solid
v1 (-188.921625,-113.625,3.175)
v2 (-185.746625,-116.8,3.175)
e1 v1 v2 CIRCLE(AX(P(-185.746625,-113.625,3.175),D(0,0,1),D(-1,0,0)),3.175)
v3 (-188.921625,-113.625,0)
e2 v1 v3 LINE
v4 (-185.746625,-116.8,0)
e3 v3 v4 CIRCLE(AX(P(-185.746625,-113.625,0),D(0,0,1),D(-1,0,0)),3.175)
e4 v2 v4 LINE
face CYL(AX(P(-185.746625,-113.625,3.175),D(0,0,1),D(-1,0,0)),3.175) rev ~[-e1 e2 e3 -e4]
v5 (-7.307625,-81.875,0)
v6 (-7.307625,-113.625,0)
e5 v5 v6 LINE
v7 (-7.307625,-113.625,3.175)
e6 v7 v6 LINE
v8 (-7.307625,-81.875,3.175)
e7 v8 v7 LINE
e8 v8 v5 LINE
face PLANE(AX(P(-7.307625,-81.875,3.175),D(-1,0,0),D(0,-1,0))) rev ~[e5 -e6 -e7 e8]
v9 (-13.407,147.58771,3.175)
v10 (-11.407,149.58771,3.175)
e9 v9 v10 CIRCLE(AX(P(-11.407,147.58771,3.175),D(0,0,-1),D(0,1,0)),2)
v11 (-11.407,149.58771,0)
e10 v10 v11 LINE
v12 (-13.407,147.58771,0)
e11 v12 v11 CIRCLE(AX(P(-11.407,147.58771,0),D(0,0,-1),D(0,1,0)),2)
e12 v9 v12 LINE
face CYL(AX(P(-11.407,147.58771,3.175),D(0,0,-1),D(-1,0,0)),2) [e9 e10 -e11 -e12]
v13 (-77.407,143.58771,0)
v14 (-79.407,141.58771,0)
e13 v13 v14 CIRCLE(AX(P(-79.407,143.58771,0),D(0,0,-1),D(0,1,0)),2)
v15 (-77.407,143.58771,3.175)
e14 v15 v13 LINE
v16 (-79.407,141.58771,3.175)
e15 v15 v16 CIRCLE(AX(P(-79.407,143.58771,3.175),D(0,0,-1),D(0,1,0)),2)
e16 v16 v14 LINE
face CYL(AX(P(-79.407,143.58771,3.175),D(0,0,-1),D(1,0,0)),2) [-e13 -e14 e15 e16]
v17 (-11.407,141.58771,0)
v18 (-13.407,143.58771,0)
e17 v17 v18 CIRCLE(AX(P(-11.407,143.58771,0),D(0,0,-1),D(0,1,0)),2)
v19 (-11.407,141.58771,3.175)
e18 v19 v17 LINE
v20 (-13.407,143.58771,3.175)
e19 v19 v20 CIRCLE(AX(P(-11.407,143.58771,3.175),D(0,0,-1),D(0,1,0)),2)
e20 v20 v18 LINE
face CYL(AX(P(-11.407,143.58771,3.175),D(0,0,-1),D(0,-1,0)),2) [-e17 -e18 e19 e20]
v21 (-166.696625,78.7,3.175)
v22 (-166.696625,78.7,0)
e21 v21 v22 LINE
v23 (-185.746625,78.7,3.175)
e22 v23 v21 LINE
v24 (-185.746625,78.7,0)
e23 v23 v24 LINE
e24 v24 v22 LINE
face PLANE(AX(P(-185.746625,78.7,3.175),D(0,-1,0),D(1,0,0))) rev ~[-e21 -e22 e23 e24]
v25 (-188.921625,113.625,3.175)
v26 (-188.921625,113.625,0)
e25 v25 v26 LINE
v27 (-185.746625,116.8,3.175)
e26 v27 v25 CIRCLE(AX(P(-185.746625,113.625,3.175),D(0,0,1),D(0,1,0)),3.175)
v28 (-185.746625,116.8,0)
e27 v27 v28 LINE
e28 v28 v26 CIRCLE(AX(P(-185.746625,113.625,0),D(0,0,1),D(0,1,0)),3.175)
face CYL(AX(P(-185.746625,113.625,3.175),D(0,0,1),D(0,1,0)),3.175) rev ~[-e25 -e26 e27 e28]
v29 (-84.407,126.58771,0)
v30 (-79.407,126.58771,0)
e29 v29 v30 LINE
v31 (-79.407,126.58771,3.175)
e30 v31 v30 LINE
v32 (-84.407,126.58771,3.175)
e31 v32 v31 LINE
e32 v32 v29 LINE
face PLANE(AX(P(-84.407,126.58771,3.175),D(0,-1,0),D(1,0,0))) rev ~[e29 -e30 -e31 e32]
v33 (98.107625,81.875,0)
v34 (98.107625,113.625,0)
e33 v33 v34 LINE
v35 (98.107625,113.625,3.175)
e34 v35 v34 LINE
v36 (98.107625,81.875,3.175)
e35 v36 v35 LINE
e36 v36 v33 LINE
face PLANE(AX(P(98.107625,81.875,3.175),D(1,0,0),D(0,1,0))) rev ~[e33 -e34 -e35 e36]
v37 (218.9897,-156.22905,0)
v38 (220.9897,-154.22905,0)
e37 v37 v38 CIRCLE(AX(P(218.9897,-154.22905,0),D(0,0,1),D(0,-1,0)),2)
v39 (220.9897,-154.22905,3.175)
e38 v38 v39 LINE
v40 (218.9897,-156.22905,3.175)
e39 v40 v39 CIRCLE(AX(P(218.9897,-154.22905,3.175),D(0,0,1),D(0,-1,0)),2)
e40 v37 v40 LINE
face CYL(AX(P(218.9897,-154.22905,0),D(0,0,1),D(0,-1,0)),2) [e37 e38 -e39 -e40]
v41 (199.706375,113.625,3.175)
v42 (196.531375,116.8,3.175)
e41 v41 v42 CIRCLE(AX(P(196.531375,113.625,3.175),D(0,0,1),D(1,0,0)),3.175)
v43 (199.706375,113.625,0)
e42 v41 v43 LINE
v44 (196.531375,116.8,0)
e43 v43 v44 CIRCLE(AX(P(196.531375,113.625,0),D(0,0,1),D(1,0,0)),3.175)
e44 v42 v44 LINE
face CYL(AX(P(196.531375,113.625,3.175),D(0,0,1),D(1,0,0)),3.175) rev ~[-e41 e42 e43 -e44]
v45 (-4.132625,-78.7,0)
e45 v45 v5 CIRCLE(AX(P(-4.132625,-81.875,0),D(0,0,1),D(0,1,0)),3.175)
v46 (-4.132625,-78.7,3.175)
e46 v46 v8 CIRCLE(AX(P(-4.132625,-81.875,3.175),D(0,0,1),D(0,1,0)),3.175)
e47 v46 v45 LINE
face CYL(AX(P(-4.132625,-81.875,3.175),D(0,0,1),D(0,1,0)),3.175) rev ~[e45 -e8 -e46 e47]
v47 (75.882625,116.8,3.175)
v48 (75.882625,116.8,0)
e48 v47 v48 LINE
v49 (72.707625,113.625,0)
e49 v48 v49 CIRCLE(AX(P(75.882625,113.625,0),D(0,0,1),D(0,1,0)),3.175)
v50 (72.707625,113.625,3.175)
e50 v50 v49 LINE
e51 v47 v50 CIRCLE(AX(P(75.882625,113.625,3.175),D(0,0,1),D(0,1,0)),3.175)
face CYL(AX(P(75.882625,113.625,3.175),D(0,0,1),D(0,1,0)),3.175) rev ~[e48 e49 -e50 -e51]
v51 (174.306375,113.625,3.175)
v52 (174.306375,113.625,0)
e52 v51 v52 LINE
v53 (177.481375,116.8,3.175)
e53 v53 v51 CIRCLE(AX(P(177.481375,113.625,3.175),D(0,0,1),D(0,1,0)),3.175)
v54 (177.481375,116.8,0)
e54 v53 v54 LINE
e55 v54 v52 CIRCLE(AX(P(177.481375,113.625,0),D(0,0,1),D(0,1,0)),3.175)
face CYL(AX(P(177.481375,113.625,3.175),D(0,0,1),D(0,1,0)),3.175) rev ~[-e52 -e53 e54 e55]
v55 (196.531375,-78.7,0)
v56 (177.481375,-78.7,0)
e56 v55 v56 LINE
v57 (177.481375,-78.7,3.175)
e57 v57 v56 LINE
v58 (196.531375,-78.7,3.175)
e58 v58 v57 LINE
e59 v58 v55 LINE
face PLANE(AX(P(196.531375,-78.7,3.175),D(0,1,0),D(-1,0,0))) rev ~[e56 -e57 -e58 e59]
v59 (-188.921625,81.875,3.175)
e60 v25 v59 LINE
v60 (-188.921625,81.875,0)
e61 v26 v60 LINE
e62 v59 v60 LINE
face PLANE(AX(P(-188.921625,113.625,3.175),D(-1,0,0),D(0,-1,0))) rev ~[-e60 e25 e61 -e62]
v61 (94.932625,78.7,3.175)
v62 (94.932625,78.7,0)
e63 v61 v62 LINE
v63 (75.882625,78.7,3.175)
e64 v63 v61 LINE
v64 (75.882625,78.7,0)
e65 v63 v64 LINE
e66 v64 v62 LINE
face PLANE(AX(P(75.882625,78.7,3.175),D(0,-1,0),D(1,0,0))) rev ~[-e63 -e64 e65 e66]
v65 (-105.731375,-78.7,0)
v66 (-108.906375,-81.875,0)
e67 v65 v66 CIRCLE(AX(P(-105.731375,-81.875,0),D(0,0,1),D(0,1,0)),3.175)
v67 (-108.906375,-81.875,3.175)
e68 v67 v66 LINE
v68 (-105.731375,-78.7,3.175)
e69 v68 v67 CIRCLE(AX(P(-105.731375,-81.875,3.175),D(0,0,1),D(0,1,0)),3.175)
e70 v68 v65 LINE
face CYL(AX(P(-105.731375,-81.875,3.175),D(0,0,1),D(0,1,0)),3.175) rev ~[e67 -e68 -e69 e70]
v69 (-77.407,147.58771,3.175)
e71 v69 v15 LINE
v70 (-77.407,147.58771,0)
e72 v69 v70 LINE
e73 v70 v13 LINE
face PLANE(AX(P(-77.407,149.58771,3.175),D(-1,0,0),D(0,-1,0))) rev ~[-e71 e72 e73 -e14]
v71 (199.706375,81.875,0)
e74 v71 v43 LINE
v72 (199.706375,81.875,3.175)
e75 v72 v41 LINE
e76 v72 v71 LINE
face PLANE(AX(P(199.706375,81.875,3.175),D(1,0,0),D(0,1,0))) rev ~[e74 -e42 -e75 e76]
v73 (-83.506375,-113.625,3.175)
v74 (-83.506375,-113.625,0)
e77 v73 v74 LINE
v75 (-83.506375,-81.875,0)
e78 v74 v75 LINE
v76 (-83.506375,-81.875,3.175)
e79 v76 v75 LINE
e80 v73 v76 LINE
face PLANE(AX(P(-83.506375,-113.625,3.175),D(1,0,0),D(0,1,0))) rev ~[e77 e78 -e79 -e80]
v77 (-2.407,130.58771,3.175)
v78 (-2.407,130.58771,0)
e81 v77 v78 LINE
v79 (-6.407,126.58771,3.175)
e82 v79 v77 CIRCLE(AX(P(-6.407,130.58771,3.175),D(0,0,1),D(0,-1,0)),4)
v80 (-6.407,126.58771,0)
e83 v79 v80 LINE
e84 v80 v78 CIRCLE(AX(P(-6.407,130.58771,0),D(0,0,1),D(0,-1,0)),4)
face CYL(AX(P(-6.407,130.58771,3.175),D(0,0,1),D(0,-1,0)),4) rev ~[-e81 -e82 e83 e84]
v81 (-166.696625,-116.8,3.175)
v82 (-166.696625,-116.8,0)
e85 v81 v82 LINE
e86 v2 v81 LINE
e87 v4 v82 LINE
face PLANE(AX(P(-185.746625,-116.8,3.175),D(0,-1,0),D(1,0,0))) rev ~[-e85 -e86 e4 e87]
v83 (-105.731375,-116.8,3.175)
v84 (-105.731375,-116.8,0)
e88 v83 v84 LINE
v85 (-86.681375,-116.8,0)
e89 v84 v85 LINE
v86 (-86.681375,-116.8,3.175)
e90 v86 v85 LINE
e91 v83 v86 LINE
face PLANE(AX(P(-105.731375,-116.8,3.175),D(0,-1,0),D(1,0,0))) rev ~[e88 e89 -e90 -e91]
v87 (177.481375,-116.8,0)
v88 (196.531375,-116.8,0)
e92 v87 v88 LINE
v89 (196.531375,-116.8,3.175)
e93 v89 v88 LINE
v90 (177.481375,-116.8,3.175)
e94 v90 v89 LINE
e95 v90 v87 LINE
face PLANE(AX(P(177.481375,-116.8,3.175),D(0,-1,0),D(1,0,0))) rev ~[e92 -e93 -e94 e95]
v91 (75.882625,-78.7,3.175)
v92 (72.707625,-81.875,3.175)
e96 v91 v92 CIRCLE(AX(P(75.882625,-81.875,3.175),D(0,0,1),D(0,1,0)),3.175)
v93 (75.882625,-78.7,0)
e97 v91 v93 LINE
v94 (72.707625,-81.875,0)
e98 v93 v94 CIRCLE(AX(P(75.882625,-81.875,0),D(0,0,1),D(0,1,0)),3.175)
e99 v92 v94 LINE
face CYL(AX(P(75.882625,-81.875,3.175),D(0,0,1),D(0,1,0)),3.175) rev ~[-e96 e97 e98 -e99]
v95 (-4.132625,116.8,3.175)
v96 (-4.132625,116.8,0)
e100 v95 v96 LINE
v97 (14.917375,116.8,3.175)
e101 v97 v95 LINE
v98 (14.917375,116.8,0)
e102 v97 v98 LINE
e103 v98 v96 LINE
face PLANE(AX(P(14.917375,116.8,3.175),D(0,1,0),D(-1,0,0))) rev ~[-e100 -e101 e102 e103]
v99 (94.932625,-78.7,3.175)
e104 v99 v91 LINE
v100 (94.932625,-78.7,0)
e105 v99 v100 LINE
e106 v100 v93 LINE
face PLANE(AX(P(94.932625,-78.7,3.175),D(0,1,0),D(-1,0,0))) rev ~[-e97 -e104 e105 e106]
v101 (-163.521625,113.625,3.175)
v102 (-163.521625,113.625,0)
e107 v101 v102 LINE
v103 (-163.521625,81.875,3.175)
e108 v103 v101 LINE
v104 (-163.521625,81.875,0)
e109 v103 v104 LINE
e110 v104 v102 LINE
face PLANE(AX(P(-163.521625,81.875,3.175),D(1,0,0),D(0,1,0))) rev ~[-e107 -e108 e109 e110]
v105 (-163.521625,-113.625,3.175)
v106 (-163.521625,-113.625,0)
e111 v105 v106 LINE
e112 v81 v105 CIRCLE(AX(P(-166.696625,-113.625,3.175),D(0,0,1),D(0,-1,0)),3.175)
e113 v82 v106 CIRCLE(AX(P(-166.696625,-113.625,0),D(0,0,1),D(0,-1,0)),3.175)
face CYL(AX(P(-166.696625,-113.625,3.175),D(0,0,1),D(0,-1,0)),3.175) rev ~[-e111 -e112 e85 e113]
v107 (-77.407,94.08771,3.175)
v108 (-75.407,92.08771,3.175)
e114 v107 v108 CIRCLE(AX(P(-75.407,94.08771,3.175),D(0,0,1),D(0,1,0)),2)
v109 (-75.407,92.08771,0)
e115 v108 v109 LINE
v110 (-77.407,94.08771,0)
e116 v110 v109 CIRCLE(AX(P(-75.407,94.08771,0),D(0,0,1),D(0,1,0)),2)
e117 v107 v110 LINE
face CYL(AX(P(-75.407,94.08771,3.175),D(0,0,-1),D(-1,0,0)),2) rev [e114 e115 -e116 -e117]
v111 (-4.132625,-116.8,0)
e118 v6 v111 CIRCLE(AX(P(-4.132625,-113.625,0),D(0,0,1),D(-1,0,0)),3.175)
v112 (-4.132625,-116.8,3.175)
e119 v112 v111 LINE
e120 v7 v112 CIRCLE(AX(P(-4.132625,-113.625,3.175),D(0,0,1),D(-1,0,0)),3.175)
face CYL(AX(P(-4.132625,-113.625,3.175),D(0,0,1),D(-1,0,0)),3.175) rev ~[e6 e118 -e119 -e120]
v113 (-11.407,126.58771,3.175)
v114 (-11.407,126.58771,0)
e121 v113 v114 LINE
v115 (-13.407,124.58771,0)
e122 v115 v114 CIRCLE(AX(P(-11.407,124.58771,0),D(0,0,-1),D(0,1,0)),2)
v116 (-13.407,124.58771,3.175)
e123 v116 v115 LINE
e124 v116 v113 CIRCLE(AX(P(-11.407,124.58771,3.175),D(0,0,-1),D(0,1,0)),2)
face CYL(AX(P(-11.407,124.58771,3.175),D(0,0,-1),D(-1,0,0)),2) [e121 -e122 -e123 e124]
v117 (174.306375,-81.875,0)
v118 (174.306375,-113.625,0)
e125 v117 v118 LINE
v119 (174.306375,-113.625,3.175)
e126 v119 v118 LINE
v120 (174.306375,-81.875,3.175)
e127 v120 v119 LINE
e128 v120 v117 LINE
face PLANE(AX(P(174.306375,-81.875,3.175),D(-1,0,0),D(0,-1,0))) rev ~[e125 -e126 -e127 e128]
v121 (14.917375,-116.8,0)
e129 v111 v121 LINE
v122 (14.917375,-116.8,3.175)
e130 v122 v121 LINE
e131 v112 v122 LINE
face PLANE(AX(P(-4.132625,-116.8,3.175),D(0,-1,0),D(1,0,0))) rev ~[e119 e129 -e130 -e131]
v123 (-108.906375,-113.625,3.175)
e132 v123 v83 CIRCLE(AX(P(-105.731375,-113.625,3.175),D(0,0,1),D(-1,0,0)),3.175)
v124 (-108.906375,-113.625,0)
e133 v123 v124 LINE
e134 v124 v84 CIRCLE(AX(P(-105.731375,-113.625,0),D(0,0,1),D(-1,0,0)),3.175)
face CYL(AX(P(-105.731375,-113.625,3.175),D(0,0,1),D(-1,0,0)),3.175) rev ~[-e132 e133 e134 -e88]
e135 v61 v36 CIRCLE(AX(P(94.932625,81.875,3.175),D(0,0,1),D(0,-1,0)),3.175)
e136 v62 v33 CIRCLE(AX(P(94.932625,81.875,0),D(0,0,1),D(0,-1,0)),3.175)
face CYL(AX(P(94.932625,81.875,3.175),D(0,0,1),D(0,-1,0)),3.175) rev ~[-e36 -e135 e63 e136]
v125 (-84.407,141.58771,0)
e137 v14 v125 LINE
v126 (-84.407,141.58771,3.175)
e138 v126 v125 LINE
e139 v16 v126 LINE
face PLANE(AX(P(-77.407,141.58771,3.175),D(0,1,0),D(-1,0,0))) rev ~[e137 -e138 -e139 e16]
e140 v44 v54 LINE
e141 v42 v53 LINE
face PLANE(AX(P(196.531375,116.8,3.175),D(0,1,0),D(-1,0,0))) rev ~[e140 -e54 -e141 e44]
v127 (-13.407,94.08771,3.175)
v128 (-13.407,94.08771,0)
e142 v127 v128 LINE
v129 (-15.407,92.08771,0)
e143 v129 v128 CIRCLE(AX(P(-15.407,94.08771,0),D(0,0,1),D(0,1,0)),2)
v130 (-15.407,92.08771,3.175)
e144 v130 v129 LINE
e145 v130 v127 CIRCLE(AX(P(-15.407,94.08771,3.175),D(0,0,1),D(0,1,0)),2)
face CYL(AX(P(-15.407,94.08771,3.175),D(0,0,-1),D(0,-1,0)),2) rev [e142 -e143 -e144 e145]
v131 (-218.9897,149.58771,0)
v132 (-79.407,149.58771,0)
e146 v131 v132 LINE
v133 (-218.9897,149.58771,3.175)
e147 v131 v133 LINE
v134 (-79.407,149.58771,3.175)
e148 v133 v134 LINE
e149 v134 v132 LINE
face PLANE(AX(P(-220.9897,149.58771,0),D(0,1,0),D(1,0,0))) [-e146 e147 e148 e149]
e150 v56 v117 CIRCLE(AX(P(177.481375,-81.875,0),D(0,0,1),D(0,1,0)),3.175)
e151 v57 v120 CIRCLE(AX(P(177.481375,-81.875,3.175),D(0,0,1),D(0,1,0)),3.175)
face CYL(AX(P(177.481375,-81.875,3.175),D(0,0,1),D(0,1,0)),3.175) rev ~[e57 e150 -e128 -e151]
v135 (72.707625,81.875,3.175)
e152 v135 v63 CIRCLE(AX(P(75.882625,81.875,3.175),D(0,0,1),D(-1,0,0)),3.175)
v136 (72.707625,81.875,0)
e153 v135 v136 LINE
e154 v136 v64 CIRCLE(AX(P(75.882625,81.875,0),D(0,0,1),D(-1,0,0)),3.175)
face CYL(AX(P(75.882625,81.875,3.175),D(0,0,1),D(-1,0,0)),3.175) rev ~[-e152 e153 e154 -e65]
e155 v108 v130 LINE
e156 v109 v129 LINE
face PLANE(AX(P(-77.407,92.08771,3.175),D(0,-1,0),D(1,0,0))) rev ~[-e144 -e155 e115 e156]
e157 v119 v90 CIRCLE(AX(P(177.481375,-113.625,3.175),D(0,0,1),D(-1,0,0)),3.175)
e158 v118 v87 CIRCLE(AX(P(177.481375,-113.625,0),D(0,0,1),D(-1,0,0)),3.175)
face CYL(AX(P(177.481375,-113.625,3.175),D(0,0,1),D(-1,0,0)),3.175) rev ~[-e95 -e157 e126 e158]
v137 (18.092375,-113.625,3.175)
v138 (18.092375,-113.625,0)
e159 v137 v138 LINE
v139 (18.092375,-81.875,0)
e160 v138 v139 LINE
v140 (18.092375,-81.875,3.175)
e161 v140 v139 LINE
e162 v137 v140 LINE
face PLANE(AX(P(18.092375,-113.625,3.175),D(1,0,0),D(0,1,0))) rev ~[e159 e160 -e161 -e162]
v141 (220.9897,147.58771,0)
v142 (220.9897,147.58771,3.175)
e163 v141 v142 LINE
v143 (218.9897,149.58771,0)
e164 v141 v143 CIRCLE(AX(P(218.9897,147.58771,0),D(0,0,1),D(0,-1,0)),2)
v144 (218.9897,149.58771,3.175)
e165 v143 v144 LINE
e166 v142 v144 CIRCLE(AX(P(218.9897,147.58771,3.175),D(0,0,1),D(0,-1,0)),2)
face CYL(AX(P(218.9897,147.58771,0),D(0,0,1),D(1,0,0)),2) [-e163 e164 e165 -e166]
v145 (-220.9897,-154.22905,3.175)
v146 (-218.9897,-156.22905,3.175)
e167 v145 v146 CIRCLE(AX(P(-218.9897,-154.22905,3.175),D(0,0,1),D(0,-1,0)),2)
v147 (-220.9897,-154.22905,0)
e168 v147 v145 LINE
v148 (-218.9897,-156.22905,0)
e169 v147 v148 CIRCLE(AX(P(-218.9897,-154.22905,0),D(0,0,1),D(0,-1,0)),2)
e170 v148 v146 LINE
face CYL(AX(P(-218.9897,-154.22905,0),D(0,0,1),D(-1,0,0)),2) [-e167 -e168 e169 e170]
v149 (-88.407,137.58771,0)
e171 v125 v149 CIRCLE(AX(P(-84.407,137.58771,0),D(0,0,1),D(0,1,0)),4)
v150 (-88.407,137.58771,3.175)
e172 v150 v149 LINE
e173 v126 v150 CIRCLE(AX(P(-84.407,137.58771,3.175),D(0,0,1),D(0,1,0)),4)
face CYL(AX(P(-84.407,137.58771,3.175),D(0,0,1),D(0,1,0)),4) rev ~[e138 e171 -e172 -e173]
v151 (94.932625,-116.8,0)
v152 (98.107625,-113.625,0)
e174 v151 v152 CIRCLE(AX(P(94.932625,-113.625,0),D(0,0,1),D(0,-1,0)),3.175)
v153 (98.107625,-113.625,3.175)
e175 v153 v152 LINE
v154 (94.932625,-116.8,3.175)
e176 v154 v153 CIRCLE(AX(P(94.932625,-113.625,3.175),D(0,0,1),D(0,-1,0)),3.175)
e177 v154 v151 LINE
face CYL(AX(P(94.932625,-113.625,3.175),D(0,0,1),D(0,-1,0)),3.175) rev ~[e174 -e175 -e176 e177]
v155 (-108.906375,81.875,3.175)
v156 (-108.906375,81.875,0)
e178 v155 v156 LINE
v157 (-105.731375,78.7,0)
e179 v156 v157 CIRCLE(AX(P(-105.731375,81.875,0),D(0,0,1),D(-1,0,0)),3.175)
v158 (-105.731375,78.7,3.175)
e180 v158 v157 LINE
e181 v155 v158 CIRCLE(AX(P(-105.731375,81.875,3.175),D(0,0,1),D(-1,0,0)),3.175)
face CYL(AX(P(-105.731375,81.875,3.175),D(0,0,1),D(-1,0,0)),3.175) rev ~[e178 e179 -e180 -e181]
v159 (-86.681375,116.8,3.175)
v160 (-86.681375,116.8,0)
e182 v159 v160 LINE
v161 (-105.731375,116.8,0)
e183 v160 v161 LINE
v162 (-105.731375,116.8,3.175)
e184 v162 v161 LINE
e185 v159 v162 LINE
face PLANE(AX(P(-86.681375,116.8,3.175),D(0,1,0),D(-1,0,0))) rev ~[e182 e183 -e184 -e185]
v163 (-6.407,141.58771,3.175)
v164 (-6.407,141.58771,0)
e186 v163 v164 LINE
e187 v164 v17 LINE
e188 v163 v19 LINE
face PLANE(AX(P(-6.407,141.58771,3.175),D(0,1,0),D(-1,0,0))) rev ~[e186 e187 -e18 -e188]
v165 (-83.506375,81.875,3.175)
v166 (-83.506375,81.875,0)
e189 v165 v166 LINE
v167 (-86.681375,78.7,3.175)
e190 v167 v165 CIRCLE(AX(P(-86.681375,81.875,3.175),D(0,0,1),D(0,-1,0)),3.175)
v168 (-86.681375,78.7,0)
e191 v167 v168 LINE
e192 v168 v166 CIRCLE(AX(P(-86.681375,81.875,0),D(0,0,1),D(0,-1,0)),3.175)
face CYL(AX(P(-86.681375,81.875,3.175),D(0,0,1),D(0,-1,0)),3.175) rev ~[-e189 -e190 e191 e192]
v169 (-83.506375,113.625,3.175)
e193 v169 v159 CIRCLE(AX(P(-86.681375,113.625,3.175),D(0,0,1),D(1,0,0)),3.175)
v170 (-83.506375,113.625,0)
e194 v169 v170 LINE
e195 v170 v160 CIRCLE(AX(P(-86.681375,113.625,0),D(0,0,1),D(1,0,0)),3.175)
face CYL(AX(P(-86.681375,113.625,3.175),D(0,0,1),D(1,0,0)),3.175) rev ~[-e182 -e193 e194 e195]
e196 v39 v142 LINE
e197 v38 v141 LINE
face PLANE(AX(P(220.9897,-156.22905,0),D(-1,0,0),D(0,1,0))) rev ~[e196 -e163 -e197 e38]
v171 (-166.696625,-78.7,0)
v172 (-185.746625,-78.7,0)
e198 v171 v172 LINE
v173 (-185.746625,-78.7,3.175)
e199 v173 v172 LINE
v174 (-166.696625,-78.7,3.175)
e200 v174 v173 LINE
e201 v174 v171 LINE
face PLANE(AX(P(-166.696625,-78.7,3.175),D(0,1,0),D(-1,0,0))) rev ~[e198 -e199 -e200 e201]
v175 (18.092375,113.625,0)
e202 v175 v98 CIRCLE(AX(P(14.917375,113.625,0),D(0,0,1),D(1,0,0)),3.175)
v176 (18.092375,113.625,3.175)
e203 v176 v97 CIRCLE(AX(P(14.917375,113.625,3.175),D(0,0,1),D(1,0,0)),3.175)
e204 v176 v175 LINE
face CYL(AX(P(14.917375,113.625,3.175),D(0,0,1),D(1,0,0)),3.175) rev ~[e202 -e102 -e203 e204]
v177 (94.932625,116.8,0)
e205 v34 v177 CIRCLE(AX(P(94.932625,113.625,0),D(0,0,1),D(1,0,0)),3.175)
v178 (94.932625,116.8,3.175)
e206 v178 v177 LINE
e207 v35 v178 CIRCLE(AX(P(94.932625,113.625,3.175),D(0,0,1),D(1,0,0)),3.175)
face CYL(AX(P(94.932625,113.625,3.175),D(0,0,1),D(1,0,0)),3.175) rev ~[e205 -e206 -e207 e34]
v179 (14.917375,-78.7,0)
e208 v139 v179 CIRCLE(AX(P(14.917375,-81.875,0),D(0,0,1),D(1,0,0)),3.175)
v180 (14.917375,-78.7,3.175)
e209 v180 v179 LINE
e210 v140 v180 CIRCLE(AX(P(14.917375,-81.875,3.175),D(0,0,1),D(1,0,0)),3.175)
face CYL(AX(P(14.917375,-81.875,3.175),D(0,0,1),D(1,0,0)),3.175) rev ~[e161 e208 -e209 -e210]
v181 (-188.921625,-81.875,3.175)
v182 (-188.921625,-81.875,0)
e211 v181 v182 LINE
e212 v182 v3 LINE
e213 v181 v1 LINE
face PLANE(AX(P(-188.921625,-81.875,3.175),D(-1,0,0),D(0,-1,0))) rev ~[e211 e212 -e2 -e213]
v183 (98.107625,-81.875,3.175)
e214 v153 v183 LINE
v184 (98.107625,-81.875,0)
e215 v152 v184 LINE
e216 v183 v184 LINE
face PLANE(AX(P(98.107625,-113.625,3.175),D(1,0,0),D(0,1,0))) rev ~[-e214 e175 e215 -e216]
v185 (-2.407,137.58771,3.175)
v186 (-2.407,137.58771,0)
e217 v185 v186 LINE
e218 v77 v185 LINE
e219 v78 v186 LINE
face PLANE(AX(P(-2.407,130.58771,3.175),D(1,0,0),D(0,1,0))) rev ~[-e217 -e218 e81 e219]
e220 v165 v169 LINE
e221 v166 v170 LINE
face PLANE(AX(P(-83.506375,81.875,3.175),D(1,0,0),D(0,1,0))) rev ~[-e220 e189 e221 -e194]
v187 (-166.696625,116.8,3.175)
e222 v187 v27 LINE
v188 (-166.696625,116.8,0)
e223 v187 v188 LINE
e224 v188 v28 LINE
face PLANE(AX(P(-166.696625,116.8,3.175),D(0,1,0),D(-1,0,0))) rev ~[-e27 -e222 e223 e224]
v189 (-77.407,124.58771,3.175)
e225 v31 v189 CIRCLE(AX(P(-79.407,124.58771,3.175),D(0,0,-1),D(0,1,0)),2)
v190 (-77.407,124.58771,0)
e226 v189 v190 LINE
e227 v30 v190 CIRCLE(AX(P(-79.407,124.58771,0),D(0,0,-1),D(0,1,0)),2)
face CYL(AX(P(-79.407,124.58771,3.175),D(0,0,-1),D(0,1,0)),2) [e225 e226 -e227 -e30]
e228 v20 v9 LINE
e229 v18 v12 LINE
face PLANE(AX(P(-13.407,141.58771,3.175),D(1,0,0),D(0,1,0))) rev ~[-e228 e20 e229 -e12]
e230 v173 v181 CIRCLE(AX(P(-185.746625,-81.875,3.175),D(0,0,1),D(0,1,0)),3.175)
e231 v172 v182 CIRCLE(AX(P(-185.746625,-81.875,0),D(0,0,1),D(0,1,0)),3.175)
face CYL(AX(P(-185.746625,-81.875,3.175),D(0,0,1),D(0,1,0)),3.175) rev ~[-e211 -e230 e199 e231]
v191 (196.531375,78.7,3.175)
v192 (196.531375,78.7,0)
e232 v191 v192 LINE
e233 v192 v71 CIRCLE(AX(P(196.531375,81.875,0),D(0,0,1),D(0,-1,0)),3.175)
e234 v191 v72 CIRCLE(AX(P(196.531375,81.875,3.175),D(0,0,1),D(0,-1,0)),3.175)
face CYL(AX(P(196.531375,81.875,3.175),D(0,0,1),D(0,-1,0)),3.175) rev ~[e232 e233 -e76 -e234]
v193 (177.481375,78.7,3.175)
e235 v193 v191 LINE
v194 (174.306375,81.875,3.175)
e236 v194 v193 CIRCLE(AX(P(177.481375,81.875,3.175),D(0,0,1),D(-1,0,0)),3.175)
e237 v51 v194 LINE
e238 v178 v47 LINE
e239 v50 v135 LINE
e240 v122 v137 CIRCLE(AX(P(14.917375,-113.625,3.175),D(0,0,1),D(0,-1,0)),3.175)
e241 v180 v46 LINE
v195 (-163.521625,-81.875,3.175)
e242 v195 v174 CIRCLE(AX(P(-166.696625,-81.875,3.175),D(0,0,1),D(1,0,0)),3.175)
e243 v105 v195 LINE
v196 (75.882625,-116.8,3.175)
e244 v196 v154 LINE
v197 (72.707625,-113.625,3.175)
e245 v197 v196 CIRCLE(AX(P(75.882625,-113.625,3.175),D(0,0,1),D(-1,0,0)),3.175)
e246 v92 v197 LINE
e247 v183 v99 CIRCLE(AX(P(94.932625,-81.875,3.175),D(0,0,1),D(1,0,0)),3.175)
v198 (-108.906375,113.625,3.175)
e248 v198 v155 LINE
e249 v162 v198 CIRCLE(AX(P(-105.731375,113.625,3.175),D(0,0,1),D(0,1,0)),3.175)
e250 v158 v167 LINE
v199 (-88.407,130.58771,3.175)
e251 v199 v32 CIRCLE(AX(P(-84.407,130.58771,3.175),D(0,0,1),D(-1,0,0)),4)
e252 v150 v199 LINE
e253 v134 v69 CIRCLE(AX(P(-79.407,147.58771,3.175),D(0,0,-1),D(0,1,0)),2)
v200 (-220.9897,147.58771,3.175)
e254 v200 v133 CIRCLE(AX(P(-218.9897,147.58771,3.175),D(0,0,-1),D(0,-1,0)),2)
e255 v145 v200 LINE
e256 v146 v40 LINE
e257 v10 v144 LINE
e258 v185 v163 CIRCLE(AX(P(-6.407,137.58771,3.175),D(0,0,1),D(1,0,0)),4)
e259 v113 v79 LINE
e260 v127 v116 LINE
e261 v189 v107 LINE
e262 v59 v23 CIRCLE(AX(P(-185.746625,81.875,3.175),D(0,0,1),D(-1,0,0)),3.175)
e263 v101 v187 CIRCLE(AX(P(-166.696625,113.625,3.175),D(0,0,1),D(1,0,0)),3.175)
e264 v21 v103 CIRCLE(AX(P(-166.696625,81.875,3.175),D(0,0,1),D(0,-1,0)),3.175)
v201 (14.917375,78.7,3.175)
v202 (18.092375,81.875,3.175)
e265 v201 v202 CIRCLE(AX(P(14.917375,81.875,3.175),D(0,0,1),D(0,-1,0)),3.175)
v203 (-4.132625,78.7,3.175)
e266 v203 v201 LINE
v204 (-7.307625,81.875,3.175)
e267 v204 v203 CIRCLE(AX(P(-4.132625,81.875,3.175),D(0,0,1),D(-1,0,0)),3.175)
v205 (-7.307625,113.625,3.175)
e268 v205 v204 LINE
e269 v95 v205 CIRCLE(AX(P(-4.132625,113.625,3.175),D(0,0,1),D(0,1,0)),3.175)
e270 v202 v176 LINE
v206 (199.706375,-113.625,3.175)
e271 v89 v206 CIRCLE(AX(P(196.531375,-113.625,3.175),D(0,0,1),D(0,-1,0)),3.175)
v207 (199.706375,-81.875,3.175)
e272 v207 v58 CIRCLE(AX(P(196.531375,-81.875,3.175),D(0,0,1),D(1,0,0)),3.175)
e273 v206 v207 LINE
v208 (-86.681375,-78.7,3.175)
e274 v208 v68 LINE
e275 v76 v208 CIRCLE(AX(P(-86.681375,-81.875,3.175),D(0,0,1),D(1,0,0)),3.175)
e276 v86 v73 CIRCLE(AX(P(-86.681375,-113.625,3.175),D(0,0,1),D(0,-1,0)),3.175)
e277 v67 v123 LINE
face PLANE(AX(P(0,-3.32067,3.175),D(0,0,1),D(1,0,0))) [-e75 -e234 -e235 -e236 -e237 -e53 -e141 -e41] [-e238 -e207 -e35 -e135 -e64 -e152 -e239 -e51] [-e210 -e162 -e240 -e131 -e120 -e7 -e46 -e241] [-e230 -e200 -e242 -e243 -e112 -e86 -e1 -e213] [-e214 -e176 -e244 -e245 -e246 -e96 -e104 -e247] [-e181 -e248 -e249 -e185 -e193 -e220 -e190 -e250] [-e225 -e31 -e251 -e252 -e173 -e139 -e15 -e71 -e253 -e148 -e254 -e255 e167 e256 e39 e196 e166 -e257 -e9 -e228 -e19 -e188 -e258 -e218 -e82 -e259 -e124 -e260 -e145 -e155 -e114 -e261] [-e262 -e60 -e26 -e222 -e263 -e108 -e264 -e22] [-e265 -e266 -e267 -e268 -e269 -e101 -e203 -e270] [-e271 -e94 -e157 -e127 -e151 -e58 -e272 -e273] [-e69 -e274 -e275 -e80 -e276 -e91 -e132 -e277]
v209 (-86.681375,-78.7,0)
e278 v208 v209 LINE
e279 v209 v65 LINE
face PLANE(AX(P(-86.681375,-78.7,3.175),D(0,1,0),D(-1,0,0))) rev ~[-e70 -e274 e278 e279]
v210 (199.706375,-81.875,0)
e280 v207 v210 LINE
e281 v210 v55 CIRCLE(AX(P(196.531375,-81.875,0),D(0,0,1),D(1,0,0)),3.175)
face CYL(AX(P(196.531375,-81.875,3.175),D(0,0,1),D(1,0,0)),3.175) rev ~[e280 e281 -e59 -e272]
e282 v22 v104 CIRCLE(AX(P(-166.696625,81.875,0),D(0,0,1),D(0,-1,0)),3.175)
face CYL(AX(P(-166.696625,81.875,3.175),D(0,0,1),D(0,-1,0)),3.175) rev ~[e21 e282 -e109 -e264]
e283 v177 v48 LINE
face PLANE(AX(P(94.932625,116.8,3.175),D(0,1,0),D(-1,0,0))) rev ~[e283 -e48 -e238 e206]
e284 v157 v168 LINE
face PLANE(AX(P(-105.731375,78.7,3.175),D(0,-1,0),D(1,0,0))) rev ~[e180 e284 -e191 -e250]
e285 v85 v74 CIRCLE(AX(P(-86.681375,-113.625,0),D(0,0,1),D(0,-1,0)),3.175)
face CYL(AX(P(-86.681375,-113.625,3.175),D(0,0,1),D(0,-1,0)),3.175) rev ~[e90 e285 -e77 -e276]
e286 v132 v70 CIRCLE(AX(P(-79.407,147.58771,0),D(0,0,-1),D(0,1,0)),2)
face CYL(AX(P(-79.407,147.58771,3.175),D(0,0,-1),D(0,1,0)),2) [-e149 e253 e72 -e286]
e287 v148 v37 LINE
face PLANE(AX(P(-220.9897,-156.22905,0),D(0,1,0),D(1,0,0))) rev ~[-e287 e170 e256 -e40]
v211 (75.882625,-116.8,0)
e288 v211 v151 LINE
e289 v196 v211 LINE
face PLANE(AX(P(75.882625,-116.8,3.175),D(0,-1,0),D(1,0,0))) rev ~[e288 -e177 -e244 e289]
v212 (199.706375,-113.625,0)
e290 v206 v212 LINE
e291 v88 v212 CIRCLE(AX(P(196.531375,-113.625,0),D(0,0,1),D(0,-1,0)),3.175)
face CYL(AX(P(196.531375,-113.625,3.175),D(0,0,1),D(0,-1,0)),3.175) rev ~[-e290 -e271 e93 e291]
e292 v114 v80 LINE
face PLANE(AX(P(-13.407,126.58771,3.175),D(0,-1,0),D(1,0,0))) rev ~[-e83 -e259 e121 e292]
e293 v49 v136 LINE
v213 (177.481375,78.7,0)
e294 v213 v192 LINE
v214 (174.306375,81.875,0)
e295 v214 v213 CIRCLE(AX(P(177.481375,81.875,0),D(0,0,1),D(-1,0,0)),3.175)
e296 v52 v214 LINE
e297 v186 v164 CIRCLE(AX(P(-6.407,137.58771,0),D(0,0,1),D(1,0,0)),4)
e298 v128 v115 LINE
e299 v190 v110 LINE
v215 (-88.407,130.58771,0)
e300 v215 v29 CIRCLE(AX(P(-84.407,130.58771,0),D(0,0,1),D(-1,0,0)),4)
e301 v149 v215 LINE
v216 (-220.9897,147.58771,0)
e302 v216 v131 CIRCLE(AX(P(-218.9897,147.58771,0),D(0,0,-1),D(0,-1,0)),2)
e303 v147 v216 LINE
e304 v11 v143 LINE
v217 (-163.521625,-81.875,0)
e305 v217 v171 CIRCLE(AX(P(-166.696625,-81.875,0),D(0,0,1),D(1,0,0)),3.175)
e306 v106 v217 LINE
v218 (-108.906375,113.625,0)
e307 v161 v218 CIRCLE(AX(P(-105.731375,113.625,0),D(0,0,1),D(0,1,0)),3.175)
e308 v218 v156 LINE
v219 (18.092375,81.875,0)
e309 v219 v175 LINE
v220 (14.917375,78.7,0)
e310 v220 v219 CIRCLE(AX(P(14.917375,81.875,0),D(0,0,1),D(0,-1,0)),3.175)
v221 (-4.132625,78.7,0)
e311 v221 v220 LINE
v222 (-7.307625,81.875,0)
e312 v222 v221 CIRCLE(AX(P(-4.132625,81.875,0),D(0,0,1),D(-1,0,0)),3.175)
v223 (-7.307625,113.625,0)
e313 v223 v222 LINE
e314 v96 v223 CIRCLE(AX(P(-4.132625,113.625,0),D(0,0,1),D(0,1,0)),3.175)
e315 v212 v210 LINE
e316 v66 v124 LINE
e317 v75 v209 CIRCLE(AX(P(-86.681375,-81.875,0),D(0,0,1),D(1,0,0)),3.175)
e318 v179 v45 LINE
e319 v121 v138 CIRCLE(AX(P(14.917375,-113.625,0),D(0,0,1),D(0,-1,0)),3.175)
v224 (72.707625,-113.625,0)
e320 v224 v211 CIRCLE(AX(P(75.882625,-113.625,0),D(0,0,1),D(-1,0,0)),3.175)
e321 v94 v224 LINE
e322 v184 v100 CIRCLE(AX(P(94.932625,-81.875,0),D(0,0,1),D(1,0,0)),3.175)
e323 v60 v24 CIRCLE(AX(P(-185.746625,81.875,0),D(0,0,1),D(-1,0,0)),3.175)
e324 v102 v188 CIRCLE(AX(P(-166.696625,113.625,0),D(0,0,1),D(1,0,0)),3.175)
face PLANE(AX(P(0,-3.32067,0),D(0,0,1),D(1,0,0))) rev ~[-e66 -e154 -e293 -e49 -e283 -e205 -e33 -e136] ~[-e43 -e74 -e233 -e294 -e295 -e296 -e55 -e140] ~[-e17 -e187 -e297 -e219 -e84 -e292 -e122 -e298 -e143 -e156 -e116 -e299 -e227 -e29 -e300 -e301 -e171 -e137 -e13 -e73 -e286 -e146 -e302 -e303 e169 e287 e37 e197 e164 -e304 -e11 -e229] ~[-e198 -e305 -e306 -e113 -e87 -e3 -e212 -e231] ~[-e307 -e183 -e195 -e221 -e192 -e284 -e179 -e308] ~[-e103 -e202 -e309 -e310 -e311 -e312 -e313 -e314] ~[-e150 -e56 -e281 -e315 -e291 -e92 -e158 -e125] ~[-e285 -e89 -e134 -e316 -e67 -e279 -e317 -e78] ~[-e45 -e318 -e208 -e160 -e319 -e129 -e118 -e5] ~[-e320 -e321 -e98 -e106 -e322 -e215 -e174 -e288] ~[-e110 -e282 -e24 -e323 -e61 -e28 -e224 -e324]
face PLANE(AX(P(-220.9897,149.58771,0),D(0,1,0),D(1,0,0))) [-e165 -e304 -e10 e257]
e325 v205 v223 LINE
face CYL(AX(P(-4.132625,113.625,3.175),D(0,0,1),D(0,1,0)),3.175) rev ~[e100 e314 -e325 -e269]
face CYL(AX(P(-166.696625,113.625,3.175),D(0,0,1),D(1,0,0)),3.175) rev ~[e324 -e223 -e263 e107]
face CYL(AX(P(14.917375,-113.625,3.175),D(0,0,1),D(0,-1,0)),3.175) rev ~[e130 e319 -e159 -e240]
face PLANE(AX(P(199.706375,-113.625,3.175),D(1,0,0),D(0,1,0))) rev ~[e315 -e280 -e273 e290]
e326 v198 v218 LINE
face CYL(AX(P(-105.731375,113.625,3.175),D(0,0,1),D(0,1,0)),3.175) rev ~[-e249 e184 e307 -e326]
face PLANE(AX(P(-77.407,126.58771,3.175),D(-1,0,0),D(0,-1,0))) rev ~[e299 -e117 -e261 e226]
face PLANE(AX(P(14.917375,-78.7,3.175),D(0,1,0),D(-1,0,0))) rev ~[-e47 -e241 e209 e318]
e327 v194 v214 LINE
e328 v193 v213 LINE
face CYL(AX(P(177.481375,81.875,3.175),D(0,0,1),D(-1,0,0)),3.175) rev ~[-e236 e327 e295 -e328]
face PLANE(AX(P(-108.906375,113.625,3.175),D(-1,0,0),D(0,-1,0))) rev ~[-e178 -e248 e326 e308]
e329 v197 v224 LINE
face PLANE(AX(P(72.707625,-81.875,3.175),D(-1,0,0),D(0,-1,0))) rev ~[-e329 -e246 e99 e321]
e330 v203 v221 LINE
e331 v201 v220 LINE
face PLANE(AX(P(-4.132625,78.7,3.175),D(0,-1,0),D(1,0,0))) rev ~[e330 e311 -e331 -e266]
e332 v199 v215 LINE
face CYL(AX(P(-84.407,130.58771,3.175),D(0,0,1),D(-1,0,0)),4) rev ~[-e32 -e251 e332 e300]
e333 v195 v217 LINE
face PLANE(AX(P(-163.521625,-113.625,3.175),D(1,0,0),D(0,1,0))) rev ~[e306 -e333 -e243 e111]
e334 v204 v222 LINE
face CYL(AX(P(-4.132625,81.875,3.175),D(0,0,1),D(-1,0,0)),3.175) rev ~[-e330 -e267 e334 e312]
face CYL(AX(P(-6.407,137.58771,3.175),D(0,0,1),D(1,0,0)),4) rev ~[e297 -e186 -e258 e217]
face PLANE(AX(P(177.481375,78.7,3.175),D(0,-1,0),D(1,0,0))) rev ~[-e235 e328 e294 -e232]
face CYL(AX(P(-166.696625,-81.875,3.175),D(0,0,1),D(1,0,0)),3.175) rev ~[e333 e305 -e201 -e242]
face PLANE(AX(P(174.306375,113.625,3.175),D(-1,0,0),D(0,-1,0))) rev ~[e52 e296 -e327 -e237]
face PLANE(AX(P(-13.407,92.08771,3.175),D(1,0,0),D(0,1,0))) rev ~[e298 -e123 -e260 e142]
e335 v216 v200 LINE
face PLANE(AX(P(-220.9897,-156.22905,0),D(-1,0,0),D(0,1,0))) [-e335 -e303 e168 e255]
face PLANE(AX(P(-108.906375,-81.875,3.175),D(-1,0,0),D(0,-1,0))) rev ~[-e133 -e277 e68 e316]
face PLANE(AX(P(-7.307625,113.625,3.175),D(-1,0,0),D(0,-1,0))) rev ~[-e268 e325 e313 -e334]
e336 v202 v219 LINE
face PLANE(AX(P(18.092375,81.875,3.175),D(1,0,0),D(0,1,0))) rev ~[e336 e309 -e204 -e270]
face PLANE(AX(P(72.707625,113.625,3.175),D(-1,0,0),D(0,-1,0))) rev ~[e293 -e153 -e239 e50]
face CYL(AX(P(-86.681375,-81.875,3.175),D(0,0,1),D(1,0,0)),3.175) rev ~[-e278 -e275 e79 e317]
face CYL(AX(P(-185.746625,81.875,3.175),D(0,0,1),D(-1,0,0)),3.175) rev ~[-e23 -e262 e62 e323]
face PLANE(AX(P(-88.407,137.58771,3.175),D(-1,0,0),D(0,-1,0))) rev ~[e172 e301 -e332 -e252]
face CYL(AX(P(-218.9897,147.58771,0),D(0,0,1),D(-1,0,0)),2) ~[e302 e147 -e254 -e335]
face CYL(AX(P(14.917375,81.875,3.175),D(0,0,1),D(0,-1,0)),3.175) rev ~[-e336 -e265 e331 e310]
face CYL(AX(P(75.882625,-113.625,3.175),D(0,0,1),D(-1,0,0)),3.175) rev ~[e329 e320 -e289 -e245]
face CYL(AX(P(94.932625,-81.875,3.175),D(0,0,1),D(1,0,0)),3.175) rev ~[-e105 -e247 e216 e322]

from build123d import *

# Parameters (mm, degrees)
SKETCH1_W           = 441.979400076
SKETCH1_H           = 305.81676
BOSS_EXTRUDE1_DEPTH = 3.175
CUT_EXTRUDE1_DEPTH  = 271.654843319
CUT_EXTRUDE2_DEPTH  = 271.654843319
LPATTERN1_COUNT     = 3
LPATTERN1_PITCH     = 181.613999992
LPATTERN2_COUNT     = 2
LPATTERN2_PITCH     = 181.613999992
CUT_EXTRUDE3_DEPTH  = 271.654843319
FILLET1_R           = 2


with BuildPart() as part:
    # Sketch1 → Boss-Extrude1 (new body)
    with BuildSketch(Plane.XY):
        with Locations((0, -3.32067)):
            Rectangle(SKETCH1_W, SKETCH1_H)
    extrude(amount=BOSS_EXTRUDE1_DEPTH)

    # Sketch2 → Cut-Extrude1 (cut, through all)
    with BuildSketch(Plane.XY.offset(3.175)):
        with BuildLine():
            Line((-185.746625, -116.8), (-166.696625, -116.8))
            ThreePointArc((-166.696625, -116.8), (-164.45156097, -115.87006403), (-163.521625, -113.625))
            Line((-163.521625, -113.625), (-163.521625, -81.875))
            ThreePointArc((-163.521625, -81.875), (-164.45156097, -79.62993597), (-166.696625, -78.7))
            Line((-166.696625, -78.7), (-185.746625, -78.7))
            ThreePointArc((-185.746625, -78.7), (-187.99168903, -79.62993597), (-188.921625, -81.875))
            Line((-188.921625, -81.875), (-188.921625, -113.625))
            ThreePointArc((-188.921625, -113.625), (-187.99168903, -115.87006403), (-185.746625, -116.8))
        make_face()
        with BuildLine():
            Line((-185.746625, 78.7), (-166.696625, 78.7))
            ThreePointArc((-166.696625, 78.7), (-164.45156097, 79.62993597), (-163.521625, 81.875))
            Line((-163.521625, 81.875), (-163.521625, 113.625))
            ThreePointArc((-163.521625, 113.625), (-164.45156097, 115.87006403), (-166.696625, 116.8))
            Line((-166.696625, 116.8), (-185.746625, 116.8))
            ThreePointArc((-185.746625, 116.8), (-187.99168903, 115.87006403), (-188.921625, 113.625))
            Line((-188.921625, 113.625), (-188.921625, 81.875))
            ThreePointArc((-188.921625, 81.875), (-187.99168903, 79.62993597), (-185.746625, 78.7))
        make_face()
    cut_extrude1 = extrude(amount=-CUT_EXTRUDE1_DEPTH, mode=Mode.SUBTRACT)

    # Sketch3 → Cut-Extrude2 (cut, through all)
    with BuildSketch(Plane.XY.offset(3.175)):
        with BuildLine():
            Line((-108.906375, -81.875), (-108.906375, -113.625))
            ThreePointArc((-108.906375, -113.625), (-107.97643903, -115.87006403), (-105.731375, -116.8))
            Line((-105.731375, -116.8), (-86.681375, -116.8))
            ThreePointArc((-86.681375, -116.8), (-84.43631097, -115.87006403), (-83.506375, -113.625))
            Line((-83.506375, -113.625), (-83.506375, -81.875))
            ThreePointArc((-83.506375, -81.875), (-84.43631097, -79.62993597), (-86.681375, -78.7))
            Line((-86.681375, -78.7), (-105.731375, -78.7))
            ThreePointArc((-105.731375, -78.7), (-107.97643903, -79.62993597), (-108.906375, -81.875))
        make_face()
        with BuildLine():
            Line((-83.506375, 81.875), (-83.506375, 113.625))
            ThreePointArc((-83.506375, 113.625), (-84.43631097, 115.87006403), (-86.681375, 116.8))
            Line((-86.681375, 116.8), (-105.731375, 116.8))
            ThreePointArc((-105.731375, 116.8), (-107.97643903, 115.87006403), (-108.906375, 113.625))
            Line((-108.906375, 113.625), (-108.906375, 81.875))
            ThreePointArc((-108.906375, 81.875), (-107.97643903, 79.62993597), (-105.731375, 78.7))
            Line((-105.731375, 78.7), (-86.681375, 78.7))
            ThreePointArc((-86.681375, 78.7), (-84.43631097, 79.62993597), (-83.506375, 81.875))
        make_face()
    cut_extrude2 = extrude(amount=-CUT_EXTRUDE2_DEPTH, mode=Mode.SUBTRACT)

    # LPattern1: Cut-Extrude1 ×3
    with Locations(*[(i * LPATTERN1_PITCH, 0, 0) for i in range(1, LPATTERN1_COUNT)]):
        add(cut_extrude1, mode=Mode.SUBTRACT)

    # LPattern2: Cut-Extrude2 ×2
    with Locations(*[(i * LPATTERN2_PITCH, 0, 0) for i in range(1, LPATTERN2_COUNT)]):
        add(cut_extrude2, mode=Mode.SUBTRACT)

    # Sketch6 → Cut-Extrude3 (cut, through all)
    with BuildSketch(Plane.XY.offset(3.175)):
        with BuildLine():
            Line((-77.407000004, 92.08771), (-13.407000004, 92.08771))
            Line((-13.407000004, 92.08771), (-13.407000004, 126.58771))
            Line((-13.407000004, 126.58771), (-6.407000004, 126.58771))
            ThreePointArc((-6.407000004, 126.58771), (-3.578572879, 127.759282875), (-2.407000004, 130.58771))
            Line((-2.407000004, 130.58771), (-2.407000004, 137.58771))
            ThreePointArc((-2.407000004, 137.58771), (-3.578572879, 140.416137125), (-6.407000004, 141.58771))
            Line((-6.407000004, 141.58771), (-13.407000004, 141.58771))
            Line((-13.407000004, 141.58771), (-13.407000004, 149.58771))
            Line((-13.407000004, 149.58771), (-77.407000004, 149.58771))
            Line((-77.407000004, 149.58771), (-77.407000004, 141.58771))
            Line((-77.407000004, 141.58771), (-84.407000004, 141.58771))
            ThreePointArc((-84.407000004, 141.58771), (-87.235427129, 140.416137125), (-88.407000004, 137.58771))
            Line((-88.407000004, 137.58771), (-88.407000004, 130.58771))
            ThreePointArc((-88.407000004, 130.58771), (-87.235427129, 127.759282875), (-84.407000004, 126.58771))
            Line((-84.407000004, 126.58771), (-77.407000004, 126.58771))
            Line((-77.407000004, 126.58771), (-77.407000004, 92.08771))
        make_face()
    extrude(amount=-CUT_EXTRUDE3_DEPTH, mode=Mode.SUBTRACT)

    # Fillet1
    fillet1_edges = [part.edges().sort_by_distance(p)[0] for p in [
        (-77.407000004, 141.58771, 1.5875),
        (-77.407000004, 149.58771, 1.5875),
        (-13.407000004, 149.58771, 1.5875),
        (-13.407000004, 141.58771, 1.5875),
        (-13.407000004, 126.58771, 1.5875),
        (-13.407000004, 92.08771, 1.5875),
        (-77.407000004, 92.08771, 1.5875),
        (-77.407000004, 126.58771, 1.5875),
        (220.989700038, -156.22905, 1.5875),
        (-220.989700038, -156.22905, 1.5875),
        (-220.989700038, 149.58771, 1.5875),
        (220.989700038, 149.58771, 1.5875),
    ]]
    fillet(fillet1_edges, radius=FILLET1_R)


solid = part.part
